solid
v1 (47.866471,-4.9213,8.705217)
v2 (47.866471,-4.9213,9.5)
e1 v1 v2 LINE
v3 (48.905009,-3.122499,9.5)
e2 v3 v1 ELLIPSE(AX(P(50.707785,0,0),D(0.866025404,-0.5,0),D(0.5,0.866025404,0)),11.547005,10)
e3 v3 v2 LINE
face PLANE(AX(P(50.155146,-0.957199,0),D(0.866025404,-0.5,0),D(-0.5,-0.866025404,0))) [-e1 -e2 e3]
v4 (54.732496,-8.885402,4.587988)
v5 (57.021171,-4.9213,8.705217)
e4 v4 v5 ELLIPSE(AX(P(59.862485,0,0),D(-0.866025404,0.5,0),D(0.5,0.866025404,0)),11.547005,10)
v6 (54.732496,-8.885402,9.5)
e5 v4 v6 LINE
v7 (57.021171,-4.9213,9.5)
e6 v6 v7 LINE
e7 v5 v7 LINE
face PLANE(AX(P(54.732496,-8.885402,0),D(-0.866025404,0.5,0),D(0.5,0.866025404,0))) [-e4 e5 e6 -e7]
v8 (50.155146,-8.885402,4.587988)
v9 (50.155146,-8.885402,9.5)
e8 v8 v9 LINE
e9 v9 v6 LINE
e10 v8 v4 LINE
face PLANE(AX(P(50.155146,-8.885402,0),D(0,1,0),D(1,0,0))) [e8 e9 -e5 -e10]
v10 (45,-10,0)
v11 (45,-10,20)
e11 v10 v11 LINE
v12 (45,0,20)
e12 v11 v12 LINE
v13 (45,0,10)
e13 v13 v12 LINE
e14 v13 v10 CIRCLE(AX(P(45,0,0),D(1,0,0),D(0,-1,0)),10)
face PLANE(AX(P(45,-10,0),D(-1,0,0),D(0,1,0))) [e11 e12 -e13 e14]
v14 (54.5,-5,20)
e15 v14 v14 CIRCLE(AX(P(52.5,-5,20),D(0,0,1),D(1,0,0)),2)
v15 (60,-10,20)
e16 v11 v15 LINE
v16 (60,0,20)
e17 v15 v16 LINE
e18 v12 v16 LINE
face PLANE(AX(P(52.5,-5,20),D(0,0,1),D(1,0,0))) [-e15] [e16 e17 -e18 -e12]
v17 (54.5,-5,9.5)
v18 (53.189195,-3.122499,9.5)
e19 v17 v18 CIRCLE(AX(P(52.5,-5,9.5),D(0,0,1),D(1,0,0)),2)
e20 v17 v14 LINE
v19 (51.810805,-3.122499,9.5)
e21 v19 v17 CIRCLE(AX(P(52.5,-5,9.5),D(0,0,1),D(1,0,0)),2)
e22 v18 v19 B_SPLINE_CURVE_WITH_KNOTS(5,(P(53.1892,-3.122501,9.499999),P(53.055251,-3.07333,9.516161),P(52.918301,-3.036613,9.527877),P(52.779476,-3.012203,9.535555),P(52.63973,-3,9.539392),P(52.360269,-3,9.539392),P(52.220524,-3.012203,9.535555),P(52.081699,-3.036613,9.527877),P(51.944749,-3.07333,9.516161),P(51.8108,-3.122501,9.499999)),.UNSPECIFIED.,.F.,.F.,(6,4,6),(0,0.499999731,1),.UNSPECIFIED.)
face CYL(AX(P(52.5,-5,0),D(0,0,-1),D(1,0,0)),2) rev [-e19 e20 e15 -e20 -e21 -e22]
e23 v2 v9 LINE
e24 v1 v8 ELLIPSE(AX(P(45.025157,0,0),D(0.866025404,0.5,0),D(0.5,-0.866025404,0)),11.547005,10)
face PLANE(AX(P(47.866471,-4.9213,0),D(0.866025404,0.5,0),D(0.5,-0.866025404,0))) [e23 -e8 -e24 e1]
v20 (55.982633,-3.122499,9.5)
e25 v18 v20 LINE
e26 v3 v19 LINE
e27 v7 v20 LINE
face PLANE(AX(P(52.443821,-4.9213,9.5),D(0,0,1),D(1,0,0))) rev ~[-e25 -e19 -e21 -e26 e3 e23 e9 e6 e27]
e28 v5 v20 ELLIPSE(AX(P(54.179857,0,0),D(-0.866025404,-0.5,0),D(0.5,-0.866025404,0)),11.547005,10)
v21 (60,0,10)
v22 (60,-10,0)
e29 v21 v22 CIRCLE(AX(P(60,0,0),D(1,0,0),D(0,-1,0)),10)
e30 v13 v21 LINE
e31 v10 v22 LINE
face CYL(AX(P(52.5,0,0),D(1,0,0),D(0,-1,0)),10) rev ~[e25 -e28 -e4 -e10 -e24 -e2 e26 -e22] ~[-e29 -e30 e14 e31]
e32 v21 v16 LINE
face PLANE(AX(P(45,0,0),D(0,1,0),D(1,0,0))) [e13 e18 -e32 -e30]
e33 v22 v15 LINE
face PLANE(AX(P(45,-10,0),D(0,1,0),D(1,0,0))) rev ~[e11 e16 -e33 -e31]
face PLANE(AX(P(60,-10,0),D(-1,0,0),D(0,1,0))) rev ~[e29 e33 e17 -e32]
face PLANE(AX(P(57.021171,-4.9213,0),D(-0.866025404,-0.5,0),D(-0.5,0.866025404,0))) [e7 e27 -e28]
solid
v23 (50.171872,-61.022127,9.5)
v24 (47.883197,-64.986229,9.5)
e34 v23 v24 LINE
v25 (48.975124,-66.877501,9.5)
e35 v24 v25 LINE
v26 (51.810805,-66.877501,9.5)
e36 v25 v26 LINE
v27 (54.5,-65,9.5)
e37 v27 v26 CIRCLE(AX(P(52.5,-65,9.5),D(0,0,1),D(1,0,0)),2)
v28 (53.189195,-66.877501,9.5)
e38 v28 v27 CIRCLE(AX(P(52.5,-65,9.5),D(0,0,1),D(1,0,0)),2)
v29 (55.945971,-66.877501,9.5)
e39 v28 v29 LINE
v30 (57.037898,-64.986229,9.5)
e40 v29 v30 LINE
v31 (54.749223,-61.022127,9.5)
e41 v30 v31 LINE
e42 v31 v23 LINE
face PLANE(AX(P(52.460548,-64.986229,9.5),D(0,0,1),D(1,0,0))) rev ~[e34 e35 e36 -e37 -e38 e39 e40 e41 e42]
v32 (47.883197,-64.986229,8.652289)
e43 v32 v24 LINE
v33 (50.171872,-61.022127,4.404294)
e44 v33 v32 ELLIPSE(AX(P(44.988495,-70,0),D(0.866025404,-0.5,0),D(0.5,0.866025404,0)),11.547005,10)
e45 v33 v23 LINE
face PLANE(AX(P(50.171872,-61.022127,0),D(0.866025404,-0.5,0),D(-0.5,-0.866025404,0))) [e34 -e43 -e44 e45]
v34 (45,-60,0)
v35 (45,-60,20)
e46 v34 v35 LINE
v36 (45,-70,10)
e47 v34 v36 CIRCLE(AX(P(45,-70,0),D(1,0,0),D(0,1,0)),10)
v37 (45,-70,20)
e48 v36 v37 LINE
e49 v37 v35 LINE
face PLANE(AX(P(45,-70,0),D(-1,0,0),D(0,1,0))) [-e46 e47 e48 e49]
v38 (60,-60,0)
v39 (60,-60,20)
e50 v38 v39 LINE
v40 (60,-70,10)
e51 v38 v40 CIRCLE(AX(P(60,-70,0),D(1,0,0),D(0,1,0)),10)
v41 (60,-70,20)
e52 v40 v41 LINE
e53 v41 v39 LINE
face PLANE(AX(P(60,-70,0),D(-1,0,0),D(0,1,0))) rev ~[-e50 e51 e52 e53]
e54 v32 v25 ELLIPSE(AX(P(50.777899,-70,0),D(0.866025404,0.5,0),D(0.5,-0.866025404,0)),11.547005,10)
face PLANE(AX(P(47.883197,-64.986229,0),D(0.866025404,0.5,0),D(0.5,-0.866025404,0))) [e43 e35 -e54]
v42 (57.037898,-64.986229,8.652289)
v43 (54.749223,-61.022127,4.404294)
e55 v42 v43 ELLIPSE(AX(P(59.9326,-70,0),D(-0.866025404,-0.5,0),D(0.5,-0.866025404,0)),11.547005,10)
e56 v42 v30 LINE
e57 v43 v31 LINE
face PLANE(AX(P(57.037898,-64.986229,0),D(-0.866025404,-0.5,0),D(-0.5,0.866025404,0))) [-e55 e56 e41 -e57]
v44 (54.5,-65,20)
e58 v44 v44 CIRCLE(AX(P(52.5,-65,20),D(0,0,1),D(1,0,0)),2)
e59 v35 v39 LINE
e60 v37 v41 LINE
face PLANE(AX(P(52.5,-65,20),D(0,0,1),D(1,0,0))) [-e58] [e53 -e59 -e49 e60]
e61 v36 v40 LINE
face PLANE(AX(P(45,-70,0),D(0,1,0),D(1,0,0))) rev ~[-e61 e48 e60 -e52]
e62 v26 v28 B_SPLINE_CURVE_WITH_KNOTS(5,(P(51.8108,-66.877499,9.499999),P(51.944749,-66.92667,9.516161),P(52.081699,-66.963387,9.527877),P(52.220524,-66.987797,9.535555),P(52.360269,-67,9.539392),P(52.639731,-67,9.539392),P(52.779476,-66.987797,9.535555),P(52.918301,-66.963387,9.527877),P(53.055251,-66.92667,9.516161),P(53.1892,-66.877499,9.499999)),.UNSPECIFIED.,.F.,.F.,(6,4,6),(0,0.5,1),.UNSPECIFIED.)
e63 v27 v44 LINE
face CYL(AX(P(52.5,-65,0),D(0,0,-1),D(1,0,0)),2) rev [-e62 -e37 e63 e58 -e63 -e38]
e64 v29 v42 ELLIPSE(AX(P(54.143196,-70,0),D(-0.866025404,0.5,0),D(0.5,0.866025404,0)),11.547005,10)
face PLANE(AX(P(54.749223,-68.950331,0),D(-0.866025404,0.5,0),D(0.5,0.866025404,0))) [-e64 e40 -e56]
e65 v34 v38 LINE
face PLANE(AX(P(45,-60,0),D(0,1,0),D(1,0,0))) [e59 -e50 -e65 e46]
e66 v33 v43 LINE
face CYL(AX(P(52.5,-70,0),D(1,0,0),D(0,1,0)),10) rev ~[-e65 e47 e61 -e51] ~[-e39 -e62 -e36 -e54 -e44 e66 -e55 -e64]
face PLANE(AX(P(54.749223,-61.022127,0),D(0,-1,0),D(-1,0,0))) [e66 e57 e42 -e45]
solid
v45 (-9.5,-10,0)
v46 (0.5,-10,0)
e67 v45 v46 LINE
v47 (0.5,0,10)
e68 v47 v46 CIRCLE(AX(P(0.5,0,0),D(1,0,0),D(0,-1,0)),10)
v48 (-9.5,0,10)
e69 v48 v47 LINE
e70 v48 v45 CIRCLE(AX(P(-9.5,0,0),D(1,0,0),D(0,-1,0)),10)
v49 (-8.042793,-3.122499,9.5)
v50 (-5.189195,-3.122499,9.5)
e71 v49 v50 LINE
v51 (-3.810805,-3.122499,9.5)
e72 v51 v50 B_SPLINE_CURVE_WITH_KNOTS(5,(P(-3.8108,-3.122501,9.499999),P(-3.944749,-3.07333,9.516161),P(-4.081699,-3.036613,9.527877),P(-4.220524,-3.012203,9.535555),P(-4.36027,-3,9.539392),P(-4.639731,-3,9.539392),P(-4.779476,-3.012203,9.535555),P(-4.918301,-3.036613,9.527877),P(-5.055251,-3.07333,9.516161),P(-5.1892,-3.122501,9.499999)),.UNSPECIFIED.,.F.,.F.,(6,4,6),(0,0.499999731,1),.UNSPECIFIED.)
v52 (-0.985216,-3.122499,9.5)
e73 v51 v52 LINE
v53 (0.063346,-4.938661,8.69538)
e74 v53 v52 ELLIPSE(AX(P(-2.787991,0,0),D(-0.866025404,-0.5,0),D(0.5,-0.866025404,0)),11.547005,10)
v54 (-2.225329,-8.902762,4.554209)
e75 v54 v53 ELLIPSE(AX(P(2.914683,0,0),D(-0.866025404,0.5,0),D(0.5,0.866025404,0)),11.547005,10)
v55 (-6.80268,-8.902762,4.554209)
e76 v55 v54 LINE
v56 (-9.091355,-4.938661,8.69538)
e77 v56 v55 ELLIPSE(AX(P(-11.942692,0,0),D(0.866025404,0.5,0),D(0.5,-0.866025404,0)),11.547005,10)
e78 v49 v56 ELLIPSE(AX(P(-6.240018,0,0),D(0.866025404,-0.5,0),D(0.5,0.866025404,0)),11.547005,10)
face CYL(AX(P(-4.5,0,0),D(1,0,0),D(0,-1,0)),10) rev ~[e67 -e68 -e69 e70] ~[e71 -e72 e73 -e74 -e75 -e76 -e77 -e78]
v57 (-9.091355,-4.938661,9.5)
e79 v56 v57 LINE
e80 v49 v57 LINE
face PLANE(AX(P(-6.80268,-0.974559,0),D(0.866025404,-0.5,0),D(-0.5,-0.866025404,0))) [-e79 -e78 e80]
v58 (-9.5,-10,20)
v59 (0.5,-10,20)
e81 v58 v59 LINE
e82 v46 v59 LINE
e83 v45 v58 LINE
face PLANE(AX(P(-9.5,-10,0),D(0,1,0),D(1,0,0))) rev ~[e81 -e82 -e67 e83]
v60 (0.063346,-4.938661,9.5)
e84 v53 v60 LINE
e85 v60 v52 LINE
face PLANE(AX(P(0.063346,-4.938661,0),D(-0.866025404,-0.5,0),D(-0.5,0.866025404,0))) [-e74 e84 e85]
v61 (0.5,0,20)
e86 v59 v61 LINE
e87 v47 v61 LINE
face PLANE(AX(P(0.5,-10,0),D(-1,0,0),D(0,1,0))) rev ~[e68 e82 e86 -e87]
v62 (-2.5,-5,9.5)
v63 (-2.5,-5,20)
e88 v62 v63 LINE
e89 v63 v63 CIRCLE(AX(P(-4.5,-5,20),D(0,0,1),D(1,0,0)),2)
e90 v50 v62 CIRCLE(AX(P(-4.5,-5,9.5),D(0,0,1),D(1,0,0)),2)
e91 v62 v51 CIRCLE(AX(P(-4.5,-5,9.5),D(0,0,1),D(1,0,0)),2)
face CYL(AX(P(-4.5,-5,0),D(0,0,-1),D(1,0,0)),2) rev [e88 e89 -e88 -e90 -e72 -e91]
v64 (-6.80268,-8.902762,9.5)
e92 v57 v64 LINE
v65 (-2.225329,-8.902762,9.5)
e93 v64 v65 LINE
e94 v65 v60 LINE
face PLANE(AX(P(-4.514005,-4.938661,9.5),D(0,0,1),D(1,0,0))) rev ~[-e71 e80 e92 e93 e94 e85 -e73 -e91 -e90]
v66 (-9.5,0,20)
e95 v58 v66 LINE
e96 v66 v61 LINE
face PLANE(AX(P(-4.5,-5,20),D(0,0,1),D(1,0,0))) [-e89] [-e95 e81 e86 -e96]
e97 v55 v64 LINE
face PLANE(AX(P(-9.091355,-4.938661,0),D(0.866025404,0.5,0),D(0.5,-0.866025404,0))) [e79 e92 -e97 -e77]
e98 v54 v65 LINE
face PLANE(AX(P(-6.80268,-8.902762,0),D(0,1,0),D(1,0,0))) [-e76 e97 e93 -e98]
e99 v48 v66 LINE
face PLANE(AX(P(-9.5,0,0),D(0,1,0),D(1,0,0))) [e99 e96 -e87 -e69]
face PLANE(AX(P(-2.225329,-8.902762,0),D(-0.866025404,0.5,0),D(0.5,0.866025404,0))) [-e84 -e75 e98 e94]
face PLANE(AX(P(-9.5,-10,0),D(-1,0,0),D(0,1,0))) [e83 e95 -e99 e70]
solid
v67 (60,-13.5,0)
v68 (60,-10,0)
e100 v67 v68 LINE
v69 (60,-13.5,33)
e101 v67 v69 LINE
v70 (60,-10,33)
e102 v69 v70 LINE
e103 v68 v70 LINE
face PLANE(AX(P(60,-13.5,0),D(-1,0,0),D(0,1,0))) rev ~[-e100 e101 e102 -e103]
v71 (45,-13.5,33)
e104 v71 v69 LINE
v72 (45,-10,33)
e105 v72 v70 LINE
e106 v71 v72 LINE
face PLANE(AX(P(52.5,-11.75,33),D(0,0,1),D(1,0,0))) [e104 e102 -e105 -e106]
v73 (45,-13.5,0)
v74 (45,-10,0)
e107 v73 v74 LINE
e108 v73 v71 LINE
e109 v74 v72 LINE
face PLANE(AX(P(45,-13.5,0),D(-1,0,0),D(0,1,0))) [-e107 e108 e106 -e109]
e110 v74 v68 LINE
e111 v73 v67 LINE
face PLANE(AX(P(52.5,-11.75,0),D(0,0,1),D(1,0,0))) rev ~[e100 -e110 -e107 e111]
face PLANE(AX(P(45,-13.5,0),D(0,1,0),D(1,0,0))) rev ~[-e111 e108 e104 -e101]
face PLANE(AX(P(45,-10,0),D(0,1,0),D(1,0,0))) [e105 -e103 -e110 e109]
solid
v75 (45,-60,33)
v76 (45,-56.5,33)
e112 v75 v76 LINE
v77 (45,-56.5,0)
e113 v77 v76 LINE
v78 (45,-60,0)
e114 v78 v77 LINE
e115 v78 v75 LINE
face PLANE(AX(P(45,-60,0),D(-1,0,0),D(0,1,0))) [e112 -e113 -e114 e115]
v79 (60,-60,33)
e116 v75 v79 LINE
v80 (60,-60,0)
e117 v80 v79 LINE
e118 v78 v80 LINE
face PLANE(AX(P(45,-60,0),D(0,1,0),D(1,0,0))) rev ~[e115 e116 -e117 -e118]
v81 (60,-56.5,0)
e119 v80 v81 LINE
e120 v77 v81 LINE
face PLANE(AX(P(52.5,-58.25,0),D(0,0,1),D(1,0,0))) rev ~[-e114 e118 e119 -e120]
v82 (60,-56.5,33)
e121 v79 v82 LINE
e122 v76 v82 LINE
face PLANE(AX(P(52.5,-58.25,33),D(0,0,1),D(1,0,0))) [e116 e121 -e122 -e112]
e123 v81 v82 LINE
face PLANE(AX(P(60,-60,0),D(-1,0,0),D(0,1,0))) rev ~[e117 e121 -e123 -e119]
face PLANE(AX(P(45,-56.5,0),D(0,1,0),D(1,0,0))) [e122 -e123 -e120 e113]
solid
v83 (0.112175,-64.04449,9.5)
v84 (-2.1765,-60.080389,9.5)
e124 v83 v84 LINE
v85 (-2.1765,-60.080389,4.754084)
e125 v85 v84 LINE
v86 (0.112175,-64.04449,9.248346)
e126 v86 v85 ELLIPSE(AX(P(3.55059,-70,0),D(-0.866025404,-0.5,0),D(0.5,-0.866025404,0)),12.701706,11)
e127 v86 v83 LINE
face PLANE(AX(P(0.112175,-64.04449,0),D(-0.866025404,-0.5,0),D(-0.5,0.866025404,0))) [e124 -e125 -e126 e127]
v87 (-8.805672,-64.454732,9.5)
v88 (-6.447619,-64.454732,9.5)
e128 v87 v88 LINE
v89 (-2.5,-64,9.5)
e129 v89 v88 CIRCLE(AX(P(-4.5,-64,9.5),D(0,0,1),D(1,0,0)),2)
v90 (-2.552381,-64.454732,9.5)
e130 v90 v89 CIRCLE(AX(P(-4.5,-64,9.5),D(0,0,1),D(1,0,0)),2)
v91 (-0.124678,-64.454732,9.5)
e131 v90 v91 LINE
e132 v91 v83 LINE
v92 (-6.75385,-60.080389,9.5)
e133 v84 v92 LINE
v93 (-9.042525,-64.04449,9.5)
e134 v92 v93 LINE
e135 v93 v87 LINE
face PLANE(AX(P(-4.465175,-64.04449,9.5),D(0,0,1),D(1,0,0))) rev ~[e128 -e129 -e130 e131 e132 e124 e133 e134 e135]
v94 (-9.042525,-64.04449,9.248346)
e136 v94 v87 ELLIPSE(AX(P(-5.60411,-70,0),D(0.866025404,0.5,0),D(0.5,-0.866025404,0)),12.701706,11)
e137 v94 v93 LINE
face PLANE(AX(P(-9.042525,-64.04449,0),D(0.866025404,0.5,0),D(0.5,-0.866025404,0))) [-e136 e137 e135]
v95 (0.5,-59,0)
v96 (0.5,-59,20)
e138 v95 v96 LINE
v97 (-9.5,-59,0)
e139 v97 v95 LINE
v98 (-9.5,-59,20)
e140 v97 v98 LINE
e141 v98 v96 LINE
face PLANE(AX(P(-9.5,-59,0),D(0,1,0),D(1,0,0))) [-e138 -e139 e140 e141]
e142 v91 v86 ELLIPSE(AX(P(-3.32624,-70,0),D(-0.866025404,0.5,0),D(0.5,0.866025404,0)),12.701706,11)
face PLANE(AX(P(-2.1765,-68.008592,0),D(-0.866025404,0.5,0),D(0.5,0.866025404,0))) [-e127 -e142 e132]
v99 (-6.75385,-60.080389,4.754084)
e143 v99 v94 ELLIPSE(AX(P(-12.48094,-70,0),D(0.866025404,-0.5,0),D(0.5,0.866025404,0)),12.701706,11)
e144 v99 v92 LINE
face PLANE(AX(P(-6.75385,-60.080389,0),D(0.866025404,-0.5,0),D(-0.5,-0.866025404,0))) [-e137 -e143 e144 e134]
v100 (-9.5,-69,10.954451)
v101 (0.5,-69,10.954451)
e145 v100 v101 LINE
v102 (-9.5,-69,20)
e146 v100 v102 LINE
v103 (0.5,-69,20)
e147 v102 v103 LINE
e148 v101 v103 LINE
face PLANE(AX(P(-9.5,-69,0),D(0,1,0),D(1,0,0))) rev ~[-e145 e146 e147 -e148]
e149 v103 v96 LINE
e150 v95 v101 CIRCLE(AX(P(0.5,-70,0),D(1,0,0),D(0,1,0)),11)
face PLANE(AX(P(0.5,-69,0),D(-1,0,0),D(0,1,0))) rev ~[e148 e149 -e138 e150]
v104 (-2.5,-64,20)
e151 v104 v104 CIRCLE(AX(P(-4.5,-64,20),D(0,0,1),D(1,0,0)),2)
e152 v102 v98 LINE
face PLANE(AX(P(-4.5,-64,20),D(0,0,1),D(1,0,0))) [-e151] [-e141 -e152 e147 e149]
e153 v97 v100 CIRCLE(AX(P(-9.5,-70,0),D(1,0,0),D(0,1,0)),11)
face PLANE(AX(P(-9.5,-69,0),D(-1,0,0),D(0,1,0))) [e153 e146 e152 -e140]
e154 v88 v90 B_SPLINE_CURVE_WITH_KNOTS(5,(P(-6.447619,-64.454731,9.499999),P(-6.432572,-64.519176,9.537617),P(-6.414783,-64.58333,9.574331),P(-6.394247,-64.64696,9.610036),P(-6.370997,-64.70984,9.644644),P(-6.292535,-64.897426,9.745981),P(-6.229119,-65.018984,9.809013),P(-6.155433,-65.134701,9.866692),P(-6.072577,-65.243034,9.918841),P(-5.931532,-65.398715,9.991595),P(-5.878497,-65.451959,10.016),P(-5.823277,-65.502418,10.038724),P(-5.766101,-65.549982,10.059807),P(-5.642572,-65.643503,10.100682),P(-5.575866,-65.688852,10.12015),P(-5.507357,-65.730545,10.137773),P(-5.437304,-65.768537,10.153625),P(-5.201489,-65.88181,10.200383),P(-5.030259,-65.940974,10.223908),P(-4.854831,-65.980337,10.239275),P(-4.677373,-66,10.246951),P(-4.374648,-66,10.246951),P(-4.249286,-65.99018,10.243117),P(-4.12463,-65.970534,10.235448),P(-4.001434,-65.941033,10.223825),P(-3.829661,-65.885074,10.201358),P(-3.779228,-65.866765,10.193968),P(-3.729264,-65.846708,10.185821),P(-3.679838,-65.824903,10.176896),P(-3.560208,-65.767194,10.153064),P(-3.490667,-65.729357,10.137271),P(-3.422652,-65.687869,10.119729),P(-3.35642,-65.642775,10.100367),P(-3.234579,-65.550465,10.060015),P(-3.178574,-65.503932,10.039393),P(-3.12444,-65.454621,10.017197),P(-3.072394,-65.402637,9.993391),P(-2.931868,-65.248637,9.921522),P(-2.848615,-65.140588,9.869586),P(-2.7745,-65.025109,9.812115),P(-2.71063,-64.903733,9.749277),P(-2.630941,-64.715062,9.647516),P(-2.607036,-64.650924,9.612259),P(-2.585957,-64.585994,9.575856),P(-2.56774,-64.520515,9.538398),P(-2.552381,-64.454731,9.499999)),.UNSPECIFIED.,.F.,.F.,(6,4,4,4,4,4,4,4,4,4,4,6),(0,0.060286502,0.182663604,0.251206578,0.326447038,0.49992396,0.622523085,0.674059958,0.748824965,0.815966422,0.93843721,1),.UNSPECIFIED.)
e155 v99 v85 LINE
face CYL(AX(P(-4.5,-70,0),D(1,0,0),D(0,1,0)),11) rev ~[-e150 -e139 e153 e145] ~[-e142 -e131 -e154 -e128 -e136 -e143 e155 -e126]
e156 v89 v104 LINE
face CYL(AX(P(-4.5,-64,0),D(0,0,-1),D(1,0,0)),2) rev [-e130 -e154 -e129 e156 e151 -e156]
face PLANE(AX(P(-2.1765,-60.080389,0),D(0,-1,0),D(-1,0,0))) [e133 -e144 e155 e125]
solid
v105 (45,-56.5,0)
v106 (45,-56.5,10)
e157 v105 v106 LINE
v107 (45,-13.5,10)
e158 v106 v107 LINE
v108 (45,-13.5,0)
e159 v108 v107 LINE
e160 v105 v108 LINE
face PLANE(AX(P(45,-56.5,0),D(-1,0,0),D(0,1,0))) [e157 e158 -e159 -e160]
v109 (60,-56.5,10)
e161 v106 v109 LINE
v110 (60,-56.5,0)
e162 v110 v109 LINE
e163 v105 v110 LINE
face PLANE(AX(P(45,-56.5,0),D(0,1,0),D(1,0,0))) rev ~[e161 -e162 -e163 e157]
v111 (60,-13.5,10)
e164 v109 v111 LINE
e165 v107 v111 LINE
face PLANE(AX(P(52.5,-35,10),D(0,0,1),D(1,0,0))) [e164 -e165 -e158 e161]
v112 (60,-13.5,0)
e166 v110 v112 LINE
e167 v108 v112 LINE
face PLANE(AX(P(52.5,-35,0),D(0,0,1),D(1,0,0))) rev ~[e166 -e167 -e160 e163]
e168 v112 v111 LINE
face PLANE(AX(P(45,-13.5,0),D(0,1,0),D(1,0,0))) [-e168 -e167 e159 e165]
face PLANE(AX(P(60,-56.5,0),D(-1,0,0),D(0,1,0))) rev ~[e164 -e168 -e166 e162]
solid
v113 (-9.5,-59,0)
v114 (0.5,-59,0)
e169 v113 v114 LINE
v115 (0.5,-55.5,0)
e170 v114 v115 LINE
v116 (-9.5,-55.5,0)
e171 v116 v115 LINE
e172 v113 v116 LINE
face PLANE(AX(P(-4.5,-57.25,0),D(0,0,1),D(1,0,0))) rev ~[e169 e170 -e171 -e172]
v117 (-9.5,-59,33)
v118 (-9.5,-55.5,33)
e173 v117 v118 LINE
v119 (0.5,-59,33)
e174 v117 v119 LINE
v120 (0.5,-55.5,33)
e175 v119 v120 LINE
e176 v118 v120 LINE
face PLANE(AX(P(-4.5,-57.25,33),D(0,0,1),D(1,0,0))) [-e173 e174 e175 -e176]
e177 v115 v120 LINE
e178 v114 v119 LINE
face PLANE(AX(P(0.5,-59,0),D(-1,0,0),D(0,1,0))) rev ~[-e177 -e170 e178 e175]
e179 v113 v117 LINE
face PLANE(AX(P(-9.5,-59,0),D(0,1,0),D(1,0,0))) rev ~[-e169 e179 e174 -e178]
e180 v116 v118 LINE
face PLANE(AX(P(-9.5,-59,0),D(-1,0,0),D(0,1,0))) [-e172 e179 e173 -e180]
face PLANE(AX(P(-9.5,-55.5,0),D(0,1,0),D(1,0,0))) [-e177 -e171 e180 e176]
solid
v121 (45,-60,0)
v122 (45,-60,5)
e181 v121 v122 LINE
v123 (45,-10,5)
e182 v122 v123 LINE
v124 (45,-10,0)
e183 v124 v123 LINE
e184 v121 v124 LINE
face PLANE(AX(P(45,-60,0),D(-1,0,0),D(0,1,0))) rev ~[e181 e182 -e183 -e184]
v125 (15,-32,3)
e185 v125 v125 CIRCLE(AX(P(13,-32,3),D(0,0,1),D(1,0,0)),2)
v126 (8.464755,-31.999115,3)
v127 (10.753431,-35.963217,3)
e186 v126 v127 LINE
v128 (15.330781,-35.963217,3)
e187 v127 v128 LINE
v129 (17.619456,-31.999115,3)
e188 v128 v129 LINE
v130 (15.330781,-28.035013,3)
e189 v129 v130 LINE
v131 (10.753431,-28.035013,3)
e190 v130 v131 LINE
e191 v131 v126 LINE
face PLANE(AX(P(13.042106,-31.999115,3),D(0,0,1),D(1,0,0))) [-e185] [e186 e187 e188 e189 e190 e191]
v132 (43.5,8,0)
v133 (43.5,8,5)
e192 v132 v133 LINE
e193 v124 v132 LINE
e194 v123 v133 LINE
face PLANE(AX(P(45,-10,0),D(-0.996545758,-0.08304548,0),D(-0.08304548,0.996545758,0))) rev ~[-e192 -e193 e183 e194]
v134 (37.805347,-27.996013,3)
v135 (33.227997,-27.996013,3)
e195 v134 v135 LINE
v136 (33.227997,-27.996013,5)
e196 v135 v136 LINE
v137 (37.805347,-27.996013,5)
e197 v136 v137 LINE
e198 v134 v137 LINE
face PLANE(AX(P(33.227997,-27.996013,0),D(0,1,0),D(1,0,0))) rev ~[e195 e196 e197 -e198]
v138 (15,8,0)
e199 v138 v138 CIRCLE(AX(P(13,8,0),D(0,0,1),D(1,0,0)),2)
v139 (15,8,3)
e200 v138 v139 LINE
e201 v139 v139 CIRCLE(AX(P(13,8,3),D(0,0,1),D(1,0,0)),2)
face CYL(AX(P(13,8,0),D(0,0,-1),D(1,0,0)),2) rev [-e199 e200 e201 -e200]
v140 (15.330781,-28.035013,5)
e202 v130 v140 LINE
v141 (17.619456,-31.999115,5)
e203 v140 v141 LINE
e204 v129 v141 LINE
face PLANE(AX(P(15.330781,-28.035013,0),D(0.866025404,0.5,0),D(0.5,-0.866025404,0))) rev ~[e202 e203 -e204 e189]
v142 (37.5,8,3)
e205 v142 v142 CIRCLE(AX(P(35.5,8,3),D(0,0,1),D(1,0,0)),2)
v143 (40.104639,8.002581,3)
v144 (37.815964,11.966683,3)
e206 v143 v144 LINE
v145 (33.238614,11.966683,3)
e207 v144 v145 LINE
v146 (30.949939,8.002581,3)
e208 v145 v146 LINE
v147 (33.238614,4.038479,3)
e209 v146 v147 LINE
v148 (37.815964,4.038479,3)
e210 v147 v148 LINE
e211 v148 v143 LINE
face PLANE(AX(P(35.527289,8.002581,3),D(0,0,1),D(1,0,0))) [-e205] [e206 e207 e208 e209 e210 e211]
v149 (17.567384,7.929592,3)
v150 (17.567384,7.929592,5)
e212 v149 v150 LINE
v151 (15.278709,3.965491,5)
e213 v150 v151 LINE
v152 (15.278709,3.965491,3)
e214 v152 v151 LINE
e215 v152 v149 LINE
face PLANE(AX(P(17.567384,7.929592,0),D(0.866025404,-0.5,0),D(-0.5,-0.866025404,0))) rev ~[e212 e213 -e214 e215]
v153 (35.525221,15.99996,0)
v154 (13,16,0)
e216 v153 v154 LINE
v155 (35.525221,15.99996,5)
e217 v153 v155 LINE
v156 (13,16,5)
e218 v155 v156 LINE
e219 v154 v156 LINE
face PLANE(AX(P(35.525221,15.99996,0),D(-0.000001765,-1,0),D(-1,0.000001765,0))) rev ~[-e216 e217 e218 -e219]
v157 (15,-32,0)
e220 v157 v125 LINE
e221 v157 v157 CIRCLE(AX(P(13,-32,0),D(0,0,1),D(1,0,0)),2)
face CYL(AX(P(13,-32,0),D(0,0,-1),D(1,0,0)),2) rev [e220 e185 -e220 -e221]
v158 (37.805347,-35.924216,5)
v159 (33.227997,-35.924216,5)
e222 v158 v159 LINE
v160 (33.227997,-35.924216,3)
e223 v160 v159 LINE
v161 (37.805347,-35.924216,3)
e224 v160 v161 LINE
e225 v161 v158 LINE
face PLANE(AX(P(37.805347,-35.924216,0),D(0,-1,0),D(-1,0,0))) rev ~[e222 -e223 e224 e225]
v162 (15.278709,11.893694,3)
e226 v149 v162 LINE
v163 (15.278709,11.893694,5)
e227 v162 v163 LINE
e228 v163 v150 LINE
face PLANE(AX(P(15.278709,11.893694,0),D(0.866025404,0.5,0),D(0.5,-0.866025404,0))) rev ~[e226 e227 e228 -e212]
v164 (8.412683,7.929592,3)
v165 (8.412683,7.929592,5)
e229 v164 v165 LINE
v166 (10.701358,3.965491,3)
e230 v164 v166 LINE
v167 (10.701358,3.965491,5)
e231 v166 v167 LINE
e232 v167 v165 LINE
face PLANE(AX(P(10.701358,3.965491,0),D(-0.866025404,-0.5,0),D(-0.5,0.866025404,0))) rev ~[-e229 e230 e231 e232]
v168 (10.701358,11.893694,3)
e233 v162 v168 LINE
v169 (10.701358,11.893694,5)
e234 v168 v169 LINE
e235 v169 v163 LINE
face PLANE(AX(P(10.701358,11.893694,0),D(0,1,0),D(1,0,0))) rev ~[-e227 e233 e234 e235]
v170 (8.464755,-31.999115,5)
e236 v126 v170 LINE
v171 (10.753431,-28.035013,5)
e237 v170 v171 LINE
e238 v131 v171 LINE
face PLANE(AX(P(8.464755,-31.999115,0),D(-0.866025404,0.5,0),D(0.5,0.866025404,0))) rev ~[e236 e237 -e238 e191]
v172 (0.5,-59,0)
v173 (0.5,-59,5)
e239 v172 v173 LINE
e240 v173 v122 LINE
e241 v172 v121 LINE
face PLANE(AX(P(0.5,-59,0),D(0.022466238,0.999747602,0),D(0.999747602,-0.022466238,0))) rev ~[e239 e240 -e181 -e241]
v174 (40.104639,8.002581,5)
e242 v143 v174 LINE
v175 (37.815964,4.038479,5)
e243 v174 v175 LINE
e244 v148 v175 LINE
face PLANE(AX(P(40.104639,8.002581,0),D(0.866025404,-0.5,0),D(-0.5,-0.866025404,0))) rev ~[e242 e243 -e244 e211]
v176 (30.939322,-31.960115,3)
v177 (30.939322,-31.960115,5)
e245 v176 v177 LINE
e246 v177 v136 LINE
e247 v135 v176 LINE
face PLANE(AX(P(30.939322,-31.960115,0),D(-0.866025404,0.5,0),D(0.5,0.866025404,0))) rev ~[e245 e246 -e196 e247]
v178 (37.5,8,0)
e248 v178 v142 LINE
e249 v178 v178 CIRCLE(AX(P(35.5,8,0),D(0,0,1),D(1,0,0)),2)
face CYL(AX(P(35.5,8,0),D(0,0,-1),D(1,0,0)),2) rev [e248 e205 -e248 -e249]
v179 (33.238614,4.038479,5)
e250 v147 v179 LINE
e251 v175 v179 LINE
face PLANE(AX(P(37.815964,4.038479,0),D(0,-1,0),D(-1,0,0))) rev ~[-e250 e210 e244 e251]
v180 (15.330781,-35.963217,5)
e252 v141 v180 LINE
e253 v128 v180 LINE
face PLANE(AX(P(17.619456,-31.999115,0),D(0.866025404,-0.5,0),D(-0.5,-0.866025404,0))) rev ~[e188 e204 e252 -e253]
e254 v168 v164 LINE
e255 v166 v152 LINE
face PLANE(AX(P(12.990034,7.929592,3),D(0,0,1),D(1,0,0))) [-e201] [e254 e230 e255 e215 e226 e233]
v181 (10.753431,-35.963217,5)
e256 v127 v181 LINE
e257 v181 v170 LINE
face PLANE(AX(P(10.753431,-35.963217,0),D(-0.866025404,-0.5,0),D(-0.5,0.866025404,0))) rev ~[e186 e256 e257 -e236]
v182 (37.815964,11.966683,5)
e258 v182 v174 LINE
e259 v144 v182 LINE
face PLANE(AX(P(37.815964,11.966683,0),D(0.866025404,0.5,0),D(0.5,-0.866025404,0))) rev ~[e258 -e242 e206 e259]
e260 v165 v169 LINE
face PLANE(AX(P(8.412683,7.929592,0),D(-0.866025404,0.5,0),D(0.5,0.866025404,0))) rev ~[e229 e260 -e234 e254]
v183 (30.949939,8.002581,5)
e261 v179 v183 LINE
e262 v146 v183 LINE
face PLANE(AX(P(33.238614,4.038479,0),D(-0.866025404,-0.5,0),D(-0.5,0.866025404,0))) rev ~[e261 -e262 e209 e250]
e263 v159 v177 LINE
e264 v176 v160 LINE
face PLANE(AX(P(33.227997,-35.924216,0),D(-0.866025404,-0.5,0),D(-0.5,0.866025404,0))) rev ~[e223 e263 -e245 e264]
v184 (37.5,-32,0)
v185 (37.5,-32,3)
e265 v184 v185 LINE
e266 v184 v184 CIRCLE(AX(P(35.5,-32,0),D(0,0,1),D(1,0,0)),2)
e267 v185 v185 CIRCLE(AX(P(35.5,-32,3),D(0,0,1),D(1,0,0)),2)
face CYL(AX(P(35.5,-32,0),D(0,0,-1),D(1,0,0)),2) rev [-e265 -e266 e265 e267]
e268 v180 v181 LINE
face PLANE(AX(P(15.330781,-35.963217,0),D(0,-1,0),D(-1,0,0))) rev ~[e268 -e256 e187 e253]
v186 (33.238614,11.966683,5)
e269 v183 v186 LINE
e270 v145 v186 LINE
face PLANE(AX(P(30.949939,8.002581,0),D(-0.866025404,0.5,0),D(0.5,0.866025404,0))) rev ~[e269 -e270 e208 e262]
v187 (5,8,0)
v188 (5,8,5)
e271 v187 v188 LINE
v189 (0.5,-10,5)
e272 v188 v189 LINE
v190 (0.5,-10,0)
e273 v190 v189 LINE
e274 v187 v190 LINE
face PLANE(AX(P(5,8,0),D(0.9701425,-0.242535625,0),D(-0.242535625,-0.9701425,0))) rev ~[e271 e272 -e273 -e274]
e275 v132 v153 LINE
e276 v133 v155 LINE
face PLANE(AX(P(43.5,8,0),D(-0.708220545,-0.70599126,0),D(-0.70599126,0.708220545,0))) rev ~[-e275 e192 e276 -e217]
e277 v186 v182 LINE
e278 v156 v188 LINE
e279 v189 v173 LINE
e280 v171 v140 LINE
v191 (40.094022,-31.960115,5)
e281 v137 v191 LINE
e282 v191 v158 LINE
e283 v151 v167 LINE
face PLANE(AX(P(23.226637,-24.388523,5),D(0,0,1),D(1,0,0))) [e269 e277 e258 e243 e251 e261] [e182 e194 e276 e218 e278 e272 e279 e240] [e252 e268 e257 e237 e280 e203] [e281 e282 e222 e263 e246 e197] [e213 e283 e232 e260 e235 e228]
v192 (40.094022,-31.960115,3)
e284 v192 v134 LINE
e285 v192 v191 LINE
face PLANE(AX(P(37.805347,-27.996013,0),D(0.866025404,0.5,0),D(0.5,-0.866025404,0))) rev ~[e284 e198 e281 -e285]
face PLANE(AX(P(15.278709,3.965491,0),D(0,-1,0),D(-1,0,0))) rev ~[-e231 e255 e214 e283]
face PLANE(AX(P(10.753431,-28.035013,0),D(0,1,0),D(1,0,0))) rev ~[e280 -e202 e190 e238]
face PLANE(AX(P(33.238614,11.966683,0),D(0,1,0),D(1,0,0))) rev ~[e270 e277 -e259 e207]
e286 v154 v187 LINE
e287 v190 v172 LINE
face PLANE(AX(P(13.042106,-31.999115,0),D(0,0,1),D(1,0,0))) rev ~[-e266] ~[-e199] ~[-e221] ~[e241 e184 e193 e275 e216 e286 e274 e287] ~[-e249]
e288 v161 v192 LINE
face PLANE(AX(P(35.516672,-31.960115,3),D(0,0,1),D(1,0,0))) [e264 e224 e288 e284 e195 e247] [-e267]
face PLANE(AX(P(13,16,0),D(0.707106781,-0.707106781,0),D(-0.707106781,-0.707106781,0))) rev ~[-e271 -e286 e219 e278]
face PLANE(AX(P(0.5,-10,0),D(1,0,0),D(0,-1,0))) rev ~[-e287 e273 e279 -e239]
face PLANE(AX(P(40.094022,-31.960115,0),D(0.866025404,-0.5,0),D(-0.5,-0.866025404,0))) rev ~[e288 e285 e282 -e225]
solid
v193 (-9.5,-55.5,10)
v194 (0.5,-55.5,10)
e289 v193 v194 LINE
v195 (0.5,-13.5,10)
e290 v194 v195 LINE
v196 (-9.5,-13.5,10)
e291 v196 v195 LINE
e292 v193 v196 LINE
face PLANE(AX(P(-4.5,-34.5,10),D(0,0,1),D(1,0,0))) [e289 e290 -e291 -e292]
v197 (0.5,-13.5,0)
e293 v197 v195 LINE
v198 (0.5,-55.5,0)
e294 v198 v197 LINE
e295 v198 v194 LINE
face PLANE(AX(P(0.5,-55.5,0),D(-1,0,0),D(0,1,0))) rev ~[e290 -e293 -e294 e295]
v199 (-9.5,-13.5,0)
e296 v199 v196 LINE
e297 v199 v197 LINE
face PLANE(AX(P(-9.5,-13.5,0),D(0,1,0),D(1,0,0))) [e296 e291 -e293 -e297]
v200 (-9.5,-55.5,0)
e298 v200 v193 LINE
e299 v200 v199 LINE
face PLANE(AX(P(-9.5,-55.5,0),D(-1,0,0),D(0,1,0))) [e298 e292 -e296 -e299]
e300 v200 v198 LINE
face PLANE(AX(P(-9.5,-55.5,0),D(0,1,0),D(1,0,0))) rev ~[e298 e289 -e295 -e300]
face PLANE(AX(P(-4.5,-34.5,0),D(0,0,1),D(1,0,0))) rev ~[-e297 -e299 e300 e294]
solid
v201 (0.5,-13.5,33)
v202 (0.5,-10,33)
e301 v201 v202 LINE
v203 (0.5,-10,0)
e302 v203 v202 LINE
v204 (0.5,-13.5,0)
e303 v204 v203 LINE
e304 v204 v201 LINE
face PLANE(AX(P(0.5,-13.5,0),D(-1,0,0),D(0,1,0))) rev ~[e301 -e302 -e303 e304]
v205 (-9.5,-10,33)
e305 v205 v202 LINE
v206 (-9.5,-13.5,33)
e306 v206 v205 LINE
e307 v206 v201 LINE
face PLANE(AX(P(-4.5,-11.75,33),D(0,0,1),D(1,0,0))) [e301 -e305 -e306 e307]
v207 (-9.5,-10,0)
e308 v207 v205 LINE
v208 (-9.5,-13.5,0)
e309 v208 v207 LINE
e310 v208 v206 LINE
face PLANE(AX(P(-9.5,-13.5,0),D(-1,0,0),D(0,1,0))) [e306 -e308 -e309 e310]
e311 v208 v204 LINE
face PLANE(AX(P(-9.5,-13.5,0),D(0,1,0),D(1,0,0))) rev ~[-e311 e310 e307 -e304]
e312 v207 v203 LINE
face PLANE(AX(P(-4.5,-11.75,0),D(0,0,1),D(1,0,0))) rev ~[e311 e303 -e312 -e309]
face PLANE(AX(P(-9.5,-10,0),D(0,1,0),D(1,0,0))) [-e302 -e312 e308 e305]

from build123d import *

# Parameters (mm, degrees)
F0_W     = 15
F0_H     = 43
F1_DEPTH = 10
F0_W_2   = 10
F0_H_2   = 42
F0_H_3   = 3.5
F2_DEPTH = 33
F0_H_4   = 10
F0_R     = 2
F3_DEPTH = 20
F4_DEPTH = 9.5
F7_DEPTH = 5
F8_DEPTH = 3


with BuildPart() as f1:
    # F0 (on Top) → F1 (new body)
    with BuildSketch(Plane.XY):
        with Locations((52.5, -35)):
            Rectangle(F0_W, F0_H)
    extrude(amount=F1_DEPTH)


with BuildPart() as f1b:
    # F0 (on Top) → F1, piece 2 (new body)
    with BuildSketch(Plane.XY):
        with Locations((-4.5, -34.5)):
            Rectangle(F0_W_2, F0_H_2)
    extrude(amount=F1_DEPTH)


with BuildPart() as f2:
    # F0 (on Top) → F2 (new body)
    with BuildSketch(Plane.XY):
        with Locations((-4.5, -57.25)):
            Rectangle(F0_W_2, F0_H_3)
    extrude(amount=F2_DEPTH)


with BuildPart() as f2b:
    # F0 (on Top) → F2, piece 2 (new body)
    with BuildSketch(Plane.XY):
        with Locations((-4.5, -11.75)):
            Rectangle(F0_W_2, F0_H_3)
    extrude(amount=F2_DEPTH)


with BuildPart() as f2c:
    # F0 (on Top) → F2, piece 3 (new body)
    with BuildSketch(Plane.XY):
        with Locations((52.5, -11.75)):
            Rectangle(F0_W, F0_H_3)
    extrude(amount=F2_DEPTH)


with BuildPart() as f2d:
    # F0 (on Top) → F2, piece 4 (new body)
    with BuildSketch(Plane.XY):
        with Locations((52.5, -58.25)):
            Rectangle(F0_W, F0_H_3)
    extrude(amount=F2_DEPTH)


with BuildPart() as f3:
    # F0 (on Top) → F3 (new body)
    with BuildSketch(Plane.XY):
        with Locations((52.5, -65)):
            Rectangle(F0_W, F0_H_4)
        Polygon((50.171872402, -68.950330558), (47.8831972674, -64.9862289429), (50.171872402, -61.0221273277), (54.7492226712, -61.0221273277), (57.0378978058, -64.9862289429), (54.7492226712, -68.950330558), align=None, mode=Mode.SUBTRACT)
        Polygon((50.171872402, -61.0221273277), (47.8831972674, -64.9862289429), (50.171872402, -68.950330558), (54.7492226712, -68.950330558), (57.0378978058, -64.9862289429), (54.7492226712, -61.0221273277), align=None)
        with Locations((52.5, -65)):
            Circle(F0_R, mode=Mode.SUBTRACT)
    extrude(amount=F3_DEPTH)


with BuildPart() as f3b:
    # F0 (on Top) → F3, piece 2 (new body)
    with BuildSketch(Plane.XY):
        with Locations((-4.5, -64)):
            Rectangle(F0_W_2, F0_H_4)
        Polygon((-6.7538499958, -68.0085920717), (-9.0425251304, -64.0444904566), (-6.7538499958, -60.0803888414), (-2.1764997267, -60.0803888414), (0.1121754079, -64.0444904566), (-2.1764997267, -68.0085920717), align=None, mode=Mode.SUBTRACT)
        Polygon((-6.7538499958, -60.0803888414), (-9.0425251304, -64.0444904566), (-6.7538499958, -68.0085920717), (-2.1764997267, -68.0085920717), (0.1121754079, -64.0444904566), (-2.1764997267, -60.0803888414), align=None)
        with Locations((-4.5, -64)):
            Circle(F0_R, mode=Mode.SUBTRACT)
    extrude(amount=F3_DEPTH)


with BuildPart() as f3c:
    # F0 (on Top) → F3, piece 3 (new body)
    with BuildSketch(Plane.XY):
        with Locations((-4.5, -5)):
            Rectangle(F0_W_2, F0_H_4)
        Polygon((-6.8026797041, -8.9027622703), (-9.0913548387, -4.9386606552), (-6.8026797041, -0.97455904), (-2.2253294349, -0.97455904), (0.0633456997, -4.9386606552), (-2.2253294349, -8.9027622703), align=None, mode=Mode.SUBTRACT)
        Polygon((-6.8026797041, -0.97455904), (-9.0913548387, -4.9386606552), (-6.8026797041, -8.9027622703), (-2.2253294349, -8.9027622703), (0.0633456997, -4.9386606552), (-2.2253294349, -0.97455904), align=None)
        with Locations((-4.5, -5)):
            Circle(F0_R, mode=Mode.SUBTRACT)
    extrude(amount=F3_DEPTH)


with BuildPart() as f3d:
    # F0 (on Top) → F3, piece 4 (new body)
    with BuildSketch(Plane.XY):
        with Locations((52.5, -5)):
            Rectangle(F0_W, F0_H_4)
        Polygon((50.1551458486, -8.8854019519), (47.866470714, -4.9213003367), (50.1551458486, -0.9571987216), (54.7324961178, -0.9571987216), (57.0211712524, -4.9213003367), (54.7324961178, -8.8854019519), align=None, mode=Mode.SUBTRACT)
        Polygon((50.1551458486, -0.9571987216), (47.866470714, -4.9213003367), (50.1551458486, -8.8854019519), (54.7324961178, -8.8854019519), (57.0211712524, -4.9213003367), (54.7324961178, -0.9571987216), align=None)
        with Locations((52.5, -5)):
            Circle(F0_R, mode=Mode.SUBTRACT)
    extrude(amount=F3_DEPTH)


with BuildPart() as f4_tool:
    # F0 (on Top) → F4 (new body)
    with BuildSketch(Plane.XY):
        Polygon((50.171872402, -61.0221273277), (47.8831972674, -64.9862289429), (50.171872402, -68.950330558), (54.7492226712, -68.950330558), (57.0378978058, -64.9862289429), (54.7492226712, -61.0221273277), align=None)
        with Locations((52.5, -65)):
            Circle(F0_R, mode=Mode.SUBTRACT)
        Polygon((50.1551458486, -0.9571987216), (47.866470714, -4.9213003367), (50.1551458486, -8.8854019519), (54.7324961178, -8.8854019519), (57.0211712524, -4.9213003367), (54.7324961178, -0.9571987216), align=None)
        with Locations((52.5, -5)):
            Circle(F0_R, mode=Mode.SUBTRACT)
        Polygon((-6.7538499958, -60.0803888414), (-9.0425251304, -64.0444904566), (-6.7538499958, -68.0085920717), (-2.1764997267, -68.0085920717), (0.1121754079, -64.0444904566), (-2.1764997267, -60.0803888414), align=None)
        with Locations((-4.5, -64)):
            Circle(F0_R, mode=Mode.SUBTRACT)
        Polygon((-6.8026797041, -0.97455904), (-9.0913548387, -4.9386606552), (-6.8026797041, -8.9027622703), (-2.2253294349, -8.9027622703), (0.0633456997, -4.9386606552), (-2.2253294349, -0.97455904), align=None)
        with Locations((-4.5, -5)):
            Circle(F0_R, mode=Mode.SUBTRACT)
    extrude(amount=F4_DEPTH)


with BuildPart() as f3_1:
    add(f3.part)

    # F4: cut by f4_tool
    add(f4_tool.part, mode=Mode.SUBTRACT)


with BuildPart() as f3b_1:
    add(f3b.part)

    # F4: cut by f4_tool
    add(f4_tool.part, mode=Mode.SUBTRACT)


with BuildPart() as f3c_1:
    add(f3c.part)

    # F4: cut by f4_tool
    add(f4_tool.part, mode=Mode.SUBTRACT)


with BuildPart() as f3d_1:
    add(f3d.part)

    # F4: cut by f4_tool
    add(f4_tool.part, mode=Mode.SUBTRACT)


with BuildPart() as f5_tool:
    # F0 (on Top) → F5 (revolve)
    with BuildSketch(Plane.XY):
        with Locations((52.5, -65)):
            Rectangle(F0_W, F0_H_4)
        Polygon((50.171872402, -68.950330558), (47.8831972674, -64.9862289429), (50.171872402, -61.0221273277), (54.7492226712, -61.0221273277), (57.0378978058, -64.9862289429), (54.7492226712, -68.950330558), align=None, mode=Mode.SUBTRACT)
        Polygon((50.171872402, -61.0221273277), (47.8831972674, -64.9862289429), (50.171872402, -68.950330558), (54.7492226712, -68.950330558), (57.0378978058, -64.9862289429), (54.7492226712, -61.0221273277), align=None)
        with Locations((52.5, -65)):
            Circle(F0_R, mode=Mode.SUBTRACT)
        with Locations((52.5, -65)):
            Circle(F0_R)
        with Locations((-4.5, -64)):
            Rectangle(F0_W_2, F0_H_4)
        Polygon((-6.7538499958, -68.0085920717), (-9.0425251304, -64.0444904566), (-6.7538499958, -60.0803888414), (-2.1764997267, -60.0803888414), (0.1121754079, -64.0444904566), (-2.1764997267, -68.0085920717), align=None, mode=Mode.SUBTRACT)
        Polygon((-6.7538499958, -60.0803888414), (-9.0425251304, -64.0444904566), (-6.7538499958, -68.0085920717), (-2.1764997267, -68.0085920717), (0.1121754079, -64.0444904566), (-2.1764997267, -60.0803888414), align=None)
        with Locations((-4.5, -64)):
            Circle(F0_R, mode=Mode.SUBTRACT)
        with Locations((-4.5, -64)):
            Circle(F0_R)
    revolve(axis=Axis((52.5, -70, 0), (1, 0, 0)))


with BuildPart() as f3_2:
    add(f3_1.part)

    # F5: cut by f5_tool
    add(f5_tool.part, mode=Mode.SUBTRACT)


with BuildPart() as f3b_2:
    add(f3b_1.part)

    # F5: cut by f5_tool
    add(f5_tool.part, mode=Mode.SUBTRACT)


with BuildPart() as f6_tool:
    # F0 (on Top) → F6 (revolve)
    with BuildSketch(Plane.XY):
        with Locations((52.5, -5)):
            Rectangle(F0_W, F0_H_4)
        Polygon((50.1551458486, -8.8854019519), (47.866470714, -4.9213003367), (50.1551458486, -0.9571987216), (54.7324961178, -0.9571987216), (57.0211712524, -4.9213003367), (54.7324961178, -8.8854019519), align=None, mode=Mode.SUBTRACT)
        Polygon((50.1551458486, -0.9571987216), (47.866470714, -4.9213003367), (50.1551458486, -8.8854019519), (54.7324961178, -8.8854019519), (57.0211712524, -4.9213003367), (54.7324961178, -0.9571987216), align=None)
        with Locations((52.5, -5)):
            Circle(F0_R, mode=Mode.SUBTRACT)
        with Locations((52.5, -5)):
            Circle(F0_R)
        with Locations((-4.5, -5)):
            Rectangle(F0_W_2, F0_H_4)
        Polygon((-6.8026797041, -8.9027622703), (-9.0913548387, -4.9386606552), (-6.8026797041, -0.97455904), (-2.2253294349, -0.97455904), (0.0633456997, -4.9386606552), (-2.2253294349, -8.9027622703), align=None, mode=Mode.SUBTRACT)
        Polygon((-6.8026797041, -0.97455904), (-9.0913548387, -4.9386606552), (-6.8026797041, -8.9027622703), (-2.2253294349, -8.9027622703), (0.0633456997, -4.9386606552), (-2.2253294349, -0.97455904), align=None)
        with Locations((-4.5, -5)):
            Circle(F0_R, mode=Mode.SUBTRACT)
        with Locations((-4.5, -5)):
            Circle(F0_R)
    revolve(axis=Axis((52.5, 0, 0), (1, 0, 0)))


with BuildPart() as f3c_2:
    add(f3c_1.part)

    # F6: cut by f6_tool
    add(f6_tool.part, mode=Mode.SUBTRACT)


with BuildPart() as f3d_2:
    add(f3d_1.part)

    # F6: cut by f6_tool
    add(f6_tool.part, mode=Mode.SUBTRACT)


with BuildPart() as f7:
    # F0 (on Top) → F7 (new body)
    with BuildSketch(Plane.XY):
        Polygon((45, -13.5), (45, -10), (43.5, 8), (35.5252214486, 15.9999602423), (13, 16), (5, 8), (0.5, -10), (0.5, -13.5), (0.5, -55.5), (0.5, -59), (45, -60), (45, -56.5), align=None)
        Polygon((10.7534305551, -35.963216516), (8.4647554205, -31.9991149008), (10.7534305551, -28.0350132857), (15.3307808242, -28.0350132857), (17.6194559588, -31.9991149008), (15.3307808242, -35.963216516), align=None, mode=Mode.SUBTRACT)
        Polygon((33.2279967018, -35.9242164518), (30.9393215672, -31.9601148367), (33.2279967018, -27.9960132216), (37.805346971, -27.9960132216), (40.0940221056, -31.9601148367), (37.805346971, -35.9242164518), align=None, mode=Mode.SUBTRACT)
        Polygon((10.7013584473, 3.9654907782), (8.4126833127, 7.9295923933), (10.7013584473, 11.8936940085), (15.2787087164, 11.8936940085), (17.567383851, 7.9295923933), (15.2787087164, 3.9654907782), align=None, mode=Mode.SUBTRACT)
        Polygon((33.2386137791, 4.0384794597), (30.9499386445, 8.0025810748), (33.2386137791, 11.96668269), (37.8159640483, 11.96668269), (40.1046391829, 8.0025810748), (37.8159640483, 4.0384794597), align=None, mode=Mode.SUBTRACT)
    extrude(amount=F7_DEPTH)

    # F0 (on Top) → F8 (join)
    with BuildSketch(Plane.XY):
        Polygon((10.7534305551, -28.0350132857), (8.4647554205, -31.9991149008), (10.7534305551, -35.963216516), (15.3307808242, -35.963216516), (17.6194559588, -31.9991149008), (15.3307808242, -28.0350132857), align=None)
        with Locations((13, -32)):
            Circle(F0_R, mode=Mode.SUBTRACT)
        Polygon((33.2279967018, -27.9960132216), (30.9393215672, -31.9601148367), (33.2279967018, -35.9242164518), (37.805346971, -35.9242164518), (40.0940221056, -31.9601148367), (37.805346971, -27.9960132216), align=None)
        with Locations((35.5, -32)):
            Circle(F0_R, mode=Mode.SUBTRACT)
        Polygon((33.2386137791, 11.96668269), (30.9499386445, 8.0025810748), (33.2386137791, 4.0384794597), (37.8159640483, 4.0384794597), (40.1046391829, 8.0025810748), (37.8159640483, 11.96668269), align=None)
        with Locations((35.5, 8)):
            Circle(F0_R, mode=Mode.SUBTRACT)
        Polygon((10.7013584473, 11.8936940085), (8.4126833127, 7.9295923933), (10.7013584473, 3.9654907782), (15.2787087164, 3.9654907782), (17.567383851, 7.9295923933), (15.2787087164, 11.8936940085), align=None)
        with Locations((13, 8)):
            Circle(F0_R, mode=Mode.SUBTRACT)
    extrude(amount=F8_DEPTH)


solid = Compound([f1.part, f1b.part, f2.part, f2b.part, f2c.part, f2d.part, f3_2.part, f3b_2.part, f3c_2.part, f3d_2.part, f7.part])
